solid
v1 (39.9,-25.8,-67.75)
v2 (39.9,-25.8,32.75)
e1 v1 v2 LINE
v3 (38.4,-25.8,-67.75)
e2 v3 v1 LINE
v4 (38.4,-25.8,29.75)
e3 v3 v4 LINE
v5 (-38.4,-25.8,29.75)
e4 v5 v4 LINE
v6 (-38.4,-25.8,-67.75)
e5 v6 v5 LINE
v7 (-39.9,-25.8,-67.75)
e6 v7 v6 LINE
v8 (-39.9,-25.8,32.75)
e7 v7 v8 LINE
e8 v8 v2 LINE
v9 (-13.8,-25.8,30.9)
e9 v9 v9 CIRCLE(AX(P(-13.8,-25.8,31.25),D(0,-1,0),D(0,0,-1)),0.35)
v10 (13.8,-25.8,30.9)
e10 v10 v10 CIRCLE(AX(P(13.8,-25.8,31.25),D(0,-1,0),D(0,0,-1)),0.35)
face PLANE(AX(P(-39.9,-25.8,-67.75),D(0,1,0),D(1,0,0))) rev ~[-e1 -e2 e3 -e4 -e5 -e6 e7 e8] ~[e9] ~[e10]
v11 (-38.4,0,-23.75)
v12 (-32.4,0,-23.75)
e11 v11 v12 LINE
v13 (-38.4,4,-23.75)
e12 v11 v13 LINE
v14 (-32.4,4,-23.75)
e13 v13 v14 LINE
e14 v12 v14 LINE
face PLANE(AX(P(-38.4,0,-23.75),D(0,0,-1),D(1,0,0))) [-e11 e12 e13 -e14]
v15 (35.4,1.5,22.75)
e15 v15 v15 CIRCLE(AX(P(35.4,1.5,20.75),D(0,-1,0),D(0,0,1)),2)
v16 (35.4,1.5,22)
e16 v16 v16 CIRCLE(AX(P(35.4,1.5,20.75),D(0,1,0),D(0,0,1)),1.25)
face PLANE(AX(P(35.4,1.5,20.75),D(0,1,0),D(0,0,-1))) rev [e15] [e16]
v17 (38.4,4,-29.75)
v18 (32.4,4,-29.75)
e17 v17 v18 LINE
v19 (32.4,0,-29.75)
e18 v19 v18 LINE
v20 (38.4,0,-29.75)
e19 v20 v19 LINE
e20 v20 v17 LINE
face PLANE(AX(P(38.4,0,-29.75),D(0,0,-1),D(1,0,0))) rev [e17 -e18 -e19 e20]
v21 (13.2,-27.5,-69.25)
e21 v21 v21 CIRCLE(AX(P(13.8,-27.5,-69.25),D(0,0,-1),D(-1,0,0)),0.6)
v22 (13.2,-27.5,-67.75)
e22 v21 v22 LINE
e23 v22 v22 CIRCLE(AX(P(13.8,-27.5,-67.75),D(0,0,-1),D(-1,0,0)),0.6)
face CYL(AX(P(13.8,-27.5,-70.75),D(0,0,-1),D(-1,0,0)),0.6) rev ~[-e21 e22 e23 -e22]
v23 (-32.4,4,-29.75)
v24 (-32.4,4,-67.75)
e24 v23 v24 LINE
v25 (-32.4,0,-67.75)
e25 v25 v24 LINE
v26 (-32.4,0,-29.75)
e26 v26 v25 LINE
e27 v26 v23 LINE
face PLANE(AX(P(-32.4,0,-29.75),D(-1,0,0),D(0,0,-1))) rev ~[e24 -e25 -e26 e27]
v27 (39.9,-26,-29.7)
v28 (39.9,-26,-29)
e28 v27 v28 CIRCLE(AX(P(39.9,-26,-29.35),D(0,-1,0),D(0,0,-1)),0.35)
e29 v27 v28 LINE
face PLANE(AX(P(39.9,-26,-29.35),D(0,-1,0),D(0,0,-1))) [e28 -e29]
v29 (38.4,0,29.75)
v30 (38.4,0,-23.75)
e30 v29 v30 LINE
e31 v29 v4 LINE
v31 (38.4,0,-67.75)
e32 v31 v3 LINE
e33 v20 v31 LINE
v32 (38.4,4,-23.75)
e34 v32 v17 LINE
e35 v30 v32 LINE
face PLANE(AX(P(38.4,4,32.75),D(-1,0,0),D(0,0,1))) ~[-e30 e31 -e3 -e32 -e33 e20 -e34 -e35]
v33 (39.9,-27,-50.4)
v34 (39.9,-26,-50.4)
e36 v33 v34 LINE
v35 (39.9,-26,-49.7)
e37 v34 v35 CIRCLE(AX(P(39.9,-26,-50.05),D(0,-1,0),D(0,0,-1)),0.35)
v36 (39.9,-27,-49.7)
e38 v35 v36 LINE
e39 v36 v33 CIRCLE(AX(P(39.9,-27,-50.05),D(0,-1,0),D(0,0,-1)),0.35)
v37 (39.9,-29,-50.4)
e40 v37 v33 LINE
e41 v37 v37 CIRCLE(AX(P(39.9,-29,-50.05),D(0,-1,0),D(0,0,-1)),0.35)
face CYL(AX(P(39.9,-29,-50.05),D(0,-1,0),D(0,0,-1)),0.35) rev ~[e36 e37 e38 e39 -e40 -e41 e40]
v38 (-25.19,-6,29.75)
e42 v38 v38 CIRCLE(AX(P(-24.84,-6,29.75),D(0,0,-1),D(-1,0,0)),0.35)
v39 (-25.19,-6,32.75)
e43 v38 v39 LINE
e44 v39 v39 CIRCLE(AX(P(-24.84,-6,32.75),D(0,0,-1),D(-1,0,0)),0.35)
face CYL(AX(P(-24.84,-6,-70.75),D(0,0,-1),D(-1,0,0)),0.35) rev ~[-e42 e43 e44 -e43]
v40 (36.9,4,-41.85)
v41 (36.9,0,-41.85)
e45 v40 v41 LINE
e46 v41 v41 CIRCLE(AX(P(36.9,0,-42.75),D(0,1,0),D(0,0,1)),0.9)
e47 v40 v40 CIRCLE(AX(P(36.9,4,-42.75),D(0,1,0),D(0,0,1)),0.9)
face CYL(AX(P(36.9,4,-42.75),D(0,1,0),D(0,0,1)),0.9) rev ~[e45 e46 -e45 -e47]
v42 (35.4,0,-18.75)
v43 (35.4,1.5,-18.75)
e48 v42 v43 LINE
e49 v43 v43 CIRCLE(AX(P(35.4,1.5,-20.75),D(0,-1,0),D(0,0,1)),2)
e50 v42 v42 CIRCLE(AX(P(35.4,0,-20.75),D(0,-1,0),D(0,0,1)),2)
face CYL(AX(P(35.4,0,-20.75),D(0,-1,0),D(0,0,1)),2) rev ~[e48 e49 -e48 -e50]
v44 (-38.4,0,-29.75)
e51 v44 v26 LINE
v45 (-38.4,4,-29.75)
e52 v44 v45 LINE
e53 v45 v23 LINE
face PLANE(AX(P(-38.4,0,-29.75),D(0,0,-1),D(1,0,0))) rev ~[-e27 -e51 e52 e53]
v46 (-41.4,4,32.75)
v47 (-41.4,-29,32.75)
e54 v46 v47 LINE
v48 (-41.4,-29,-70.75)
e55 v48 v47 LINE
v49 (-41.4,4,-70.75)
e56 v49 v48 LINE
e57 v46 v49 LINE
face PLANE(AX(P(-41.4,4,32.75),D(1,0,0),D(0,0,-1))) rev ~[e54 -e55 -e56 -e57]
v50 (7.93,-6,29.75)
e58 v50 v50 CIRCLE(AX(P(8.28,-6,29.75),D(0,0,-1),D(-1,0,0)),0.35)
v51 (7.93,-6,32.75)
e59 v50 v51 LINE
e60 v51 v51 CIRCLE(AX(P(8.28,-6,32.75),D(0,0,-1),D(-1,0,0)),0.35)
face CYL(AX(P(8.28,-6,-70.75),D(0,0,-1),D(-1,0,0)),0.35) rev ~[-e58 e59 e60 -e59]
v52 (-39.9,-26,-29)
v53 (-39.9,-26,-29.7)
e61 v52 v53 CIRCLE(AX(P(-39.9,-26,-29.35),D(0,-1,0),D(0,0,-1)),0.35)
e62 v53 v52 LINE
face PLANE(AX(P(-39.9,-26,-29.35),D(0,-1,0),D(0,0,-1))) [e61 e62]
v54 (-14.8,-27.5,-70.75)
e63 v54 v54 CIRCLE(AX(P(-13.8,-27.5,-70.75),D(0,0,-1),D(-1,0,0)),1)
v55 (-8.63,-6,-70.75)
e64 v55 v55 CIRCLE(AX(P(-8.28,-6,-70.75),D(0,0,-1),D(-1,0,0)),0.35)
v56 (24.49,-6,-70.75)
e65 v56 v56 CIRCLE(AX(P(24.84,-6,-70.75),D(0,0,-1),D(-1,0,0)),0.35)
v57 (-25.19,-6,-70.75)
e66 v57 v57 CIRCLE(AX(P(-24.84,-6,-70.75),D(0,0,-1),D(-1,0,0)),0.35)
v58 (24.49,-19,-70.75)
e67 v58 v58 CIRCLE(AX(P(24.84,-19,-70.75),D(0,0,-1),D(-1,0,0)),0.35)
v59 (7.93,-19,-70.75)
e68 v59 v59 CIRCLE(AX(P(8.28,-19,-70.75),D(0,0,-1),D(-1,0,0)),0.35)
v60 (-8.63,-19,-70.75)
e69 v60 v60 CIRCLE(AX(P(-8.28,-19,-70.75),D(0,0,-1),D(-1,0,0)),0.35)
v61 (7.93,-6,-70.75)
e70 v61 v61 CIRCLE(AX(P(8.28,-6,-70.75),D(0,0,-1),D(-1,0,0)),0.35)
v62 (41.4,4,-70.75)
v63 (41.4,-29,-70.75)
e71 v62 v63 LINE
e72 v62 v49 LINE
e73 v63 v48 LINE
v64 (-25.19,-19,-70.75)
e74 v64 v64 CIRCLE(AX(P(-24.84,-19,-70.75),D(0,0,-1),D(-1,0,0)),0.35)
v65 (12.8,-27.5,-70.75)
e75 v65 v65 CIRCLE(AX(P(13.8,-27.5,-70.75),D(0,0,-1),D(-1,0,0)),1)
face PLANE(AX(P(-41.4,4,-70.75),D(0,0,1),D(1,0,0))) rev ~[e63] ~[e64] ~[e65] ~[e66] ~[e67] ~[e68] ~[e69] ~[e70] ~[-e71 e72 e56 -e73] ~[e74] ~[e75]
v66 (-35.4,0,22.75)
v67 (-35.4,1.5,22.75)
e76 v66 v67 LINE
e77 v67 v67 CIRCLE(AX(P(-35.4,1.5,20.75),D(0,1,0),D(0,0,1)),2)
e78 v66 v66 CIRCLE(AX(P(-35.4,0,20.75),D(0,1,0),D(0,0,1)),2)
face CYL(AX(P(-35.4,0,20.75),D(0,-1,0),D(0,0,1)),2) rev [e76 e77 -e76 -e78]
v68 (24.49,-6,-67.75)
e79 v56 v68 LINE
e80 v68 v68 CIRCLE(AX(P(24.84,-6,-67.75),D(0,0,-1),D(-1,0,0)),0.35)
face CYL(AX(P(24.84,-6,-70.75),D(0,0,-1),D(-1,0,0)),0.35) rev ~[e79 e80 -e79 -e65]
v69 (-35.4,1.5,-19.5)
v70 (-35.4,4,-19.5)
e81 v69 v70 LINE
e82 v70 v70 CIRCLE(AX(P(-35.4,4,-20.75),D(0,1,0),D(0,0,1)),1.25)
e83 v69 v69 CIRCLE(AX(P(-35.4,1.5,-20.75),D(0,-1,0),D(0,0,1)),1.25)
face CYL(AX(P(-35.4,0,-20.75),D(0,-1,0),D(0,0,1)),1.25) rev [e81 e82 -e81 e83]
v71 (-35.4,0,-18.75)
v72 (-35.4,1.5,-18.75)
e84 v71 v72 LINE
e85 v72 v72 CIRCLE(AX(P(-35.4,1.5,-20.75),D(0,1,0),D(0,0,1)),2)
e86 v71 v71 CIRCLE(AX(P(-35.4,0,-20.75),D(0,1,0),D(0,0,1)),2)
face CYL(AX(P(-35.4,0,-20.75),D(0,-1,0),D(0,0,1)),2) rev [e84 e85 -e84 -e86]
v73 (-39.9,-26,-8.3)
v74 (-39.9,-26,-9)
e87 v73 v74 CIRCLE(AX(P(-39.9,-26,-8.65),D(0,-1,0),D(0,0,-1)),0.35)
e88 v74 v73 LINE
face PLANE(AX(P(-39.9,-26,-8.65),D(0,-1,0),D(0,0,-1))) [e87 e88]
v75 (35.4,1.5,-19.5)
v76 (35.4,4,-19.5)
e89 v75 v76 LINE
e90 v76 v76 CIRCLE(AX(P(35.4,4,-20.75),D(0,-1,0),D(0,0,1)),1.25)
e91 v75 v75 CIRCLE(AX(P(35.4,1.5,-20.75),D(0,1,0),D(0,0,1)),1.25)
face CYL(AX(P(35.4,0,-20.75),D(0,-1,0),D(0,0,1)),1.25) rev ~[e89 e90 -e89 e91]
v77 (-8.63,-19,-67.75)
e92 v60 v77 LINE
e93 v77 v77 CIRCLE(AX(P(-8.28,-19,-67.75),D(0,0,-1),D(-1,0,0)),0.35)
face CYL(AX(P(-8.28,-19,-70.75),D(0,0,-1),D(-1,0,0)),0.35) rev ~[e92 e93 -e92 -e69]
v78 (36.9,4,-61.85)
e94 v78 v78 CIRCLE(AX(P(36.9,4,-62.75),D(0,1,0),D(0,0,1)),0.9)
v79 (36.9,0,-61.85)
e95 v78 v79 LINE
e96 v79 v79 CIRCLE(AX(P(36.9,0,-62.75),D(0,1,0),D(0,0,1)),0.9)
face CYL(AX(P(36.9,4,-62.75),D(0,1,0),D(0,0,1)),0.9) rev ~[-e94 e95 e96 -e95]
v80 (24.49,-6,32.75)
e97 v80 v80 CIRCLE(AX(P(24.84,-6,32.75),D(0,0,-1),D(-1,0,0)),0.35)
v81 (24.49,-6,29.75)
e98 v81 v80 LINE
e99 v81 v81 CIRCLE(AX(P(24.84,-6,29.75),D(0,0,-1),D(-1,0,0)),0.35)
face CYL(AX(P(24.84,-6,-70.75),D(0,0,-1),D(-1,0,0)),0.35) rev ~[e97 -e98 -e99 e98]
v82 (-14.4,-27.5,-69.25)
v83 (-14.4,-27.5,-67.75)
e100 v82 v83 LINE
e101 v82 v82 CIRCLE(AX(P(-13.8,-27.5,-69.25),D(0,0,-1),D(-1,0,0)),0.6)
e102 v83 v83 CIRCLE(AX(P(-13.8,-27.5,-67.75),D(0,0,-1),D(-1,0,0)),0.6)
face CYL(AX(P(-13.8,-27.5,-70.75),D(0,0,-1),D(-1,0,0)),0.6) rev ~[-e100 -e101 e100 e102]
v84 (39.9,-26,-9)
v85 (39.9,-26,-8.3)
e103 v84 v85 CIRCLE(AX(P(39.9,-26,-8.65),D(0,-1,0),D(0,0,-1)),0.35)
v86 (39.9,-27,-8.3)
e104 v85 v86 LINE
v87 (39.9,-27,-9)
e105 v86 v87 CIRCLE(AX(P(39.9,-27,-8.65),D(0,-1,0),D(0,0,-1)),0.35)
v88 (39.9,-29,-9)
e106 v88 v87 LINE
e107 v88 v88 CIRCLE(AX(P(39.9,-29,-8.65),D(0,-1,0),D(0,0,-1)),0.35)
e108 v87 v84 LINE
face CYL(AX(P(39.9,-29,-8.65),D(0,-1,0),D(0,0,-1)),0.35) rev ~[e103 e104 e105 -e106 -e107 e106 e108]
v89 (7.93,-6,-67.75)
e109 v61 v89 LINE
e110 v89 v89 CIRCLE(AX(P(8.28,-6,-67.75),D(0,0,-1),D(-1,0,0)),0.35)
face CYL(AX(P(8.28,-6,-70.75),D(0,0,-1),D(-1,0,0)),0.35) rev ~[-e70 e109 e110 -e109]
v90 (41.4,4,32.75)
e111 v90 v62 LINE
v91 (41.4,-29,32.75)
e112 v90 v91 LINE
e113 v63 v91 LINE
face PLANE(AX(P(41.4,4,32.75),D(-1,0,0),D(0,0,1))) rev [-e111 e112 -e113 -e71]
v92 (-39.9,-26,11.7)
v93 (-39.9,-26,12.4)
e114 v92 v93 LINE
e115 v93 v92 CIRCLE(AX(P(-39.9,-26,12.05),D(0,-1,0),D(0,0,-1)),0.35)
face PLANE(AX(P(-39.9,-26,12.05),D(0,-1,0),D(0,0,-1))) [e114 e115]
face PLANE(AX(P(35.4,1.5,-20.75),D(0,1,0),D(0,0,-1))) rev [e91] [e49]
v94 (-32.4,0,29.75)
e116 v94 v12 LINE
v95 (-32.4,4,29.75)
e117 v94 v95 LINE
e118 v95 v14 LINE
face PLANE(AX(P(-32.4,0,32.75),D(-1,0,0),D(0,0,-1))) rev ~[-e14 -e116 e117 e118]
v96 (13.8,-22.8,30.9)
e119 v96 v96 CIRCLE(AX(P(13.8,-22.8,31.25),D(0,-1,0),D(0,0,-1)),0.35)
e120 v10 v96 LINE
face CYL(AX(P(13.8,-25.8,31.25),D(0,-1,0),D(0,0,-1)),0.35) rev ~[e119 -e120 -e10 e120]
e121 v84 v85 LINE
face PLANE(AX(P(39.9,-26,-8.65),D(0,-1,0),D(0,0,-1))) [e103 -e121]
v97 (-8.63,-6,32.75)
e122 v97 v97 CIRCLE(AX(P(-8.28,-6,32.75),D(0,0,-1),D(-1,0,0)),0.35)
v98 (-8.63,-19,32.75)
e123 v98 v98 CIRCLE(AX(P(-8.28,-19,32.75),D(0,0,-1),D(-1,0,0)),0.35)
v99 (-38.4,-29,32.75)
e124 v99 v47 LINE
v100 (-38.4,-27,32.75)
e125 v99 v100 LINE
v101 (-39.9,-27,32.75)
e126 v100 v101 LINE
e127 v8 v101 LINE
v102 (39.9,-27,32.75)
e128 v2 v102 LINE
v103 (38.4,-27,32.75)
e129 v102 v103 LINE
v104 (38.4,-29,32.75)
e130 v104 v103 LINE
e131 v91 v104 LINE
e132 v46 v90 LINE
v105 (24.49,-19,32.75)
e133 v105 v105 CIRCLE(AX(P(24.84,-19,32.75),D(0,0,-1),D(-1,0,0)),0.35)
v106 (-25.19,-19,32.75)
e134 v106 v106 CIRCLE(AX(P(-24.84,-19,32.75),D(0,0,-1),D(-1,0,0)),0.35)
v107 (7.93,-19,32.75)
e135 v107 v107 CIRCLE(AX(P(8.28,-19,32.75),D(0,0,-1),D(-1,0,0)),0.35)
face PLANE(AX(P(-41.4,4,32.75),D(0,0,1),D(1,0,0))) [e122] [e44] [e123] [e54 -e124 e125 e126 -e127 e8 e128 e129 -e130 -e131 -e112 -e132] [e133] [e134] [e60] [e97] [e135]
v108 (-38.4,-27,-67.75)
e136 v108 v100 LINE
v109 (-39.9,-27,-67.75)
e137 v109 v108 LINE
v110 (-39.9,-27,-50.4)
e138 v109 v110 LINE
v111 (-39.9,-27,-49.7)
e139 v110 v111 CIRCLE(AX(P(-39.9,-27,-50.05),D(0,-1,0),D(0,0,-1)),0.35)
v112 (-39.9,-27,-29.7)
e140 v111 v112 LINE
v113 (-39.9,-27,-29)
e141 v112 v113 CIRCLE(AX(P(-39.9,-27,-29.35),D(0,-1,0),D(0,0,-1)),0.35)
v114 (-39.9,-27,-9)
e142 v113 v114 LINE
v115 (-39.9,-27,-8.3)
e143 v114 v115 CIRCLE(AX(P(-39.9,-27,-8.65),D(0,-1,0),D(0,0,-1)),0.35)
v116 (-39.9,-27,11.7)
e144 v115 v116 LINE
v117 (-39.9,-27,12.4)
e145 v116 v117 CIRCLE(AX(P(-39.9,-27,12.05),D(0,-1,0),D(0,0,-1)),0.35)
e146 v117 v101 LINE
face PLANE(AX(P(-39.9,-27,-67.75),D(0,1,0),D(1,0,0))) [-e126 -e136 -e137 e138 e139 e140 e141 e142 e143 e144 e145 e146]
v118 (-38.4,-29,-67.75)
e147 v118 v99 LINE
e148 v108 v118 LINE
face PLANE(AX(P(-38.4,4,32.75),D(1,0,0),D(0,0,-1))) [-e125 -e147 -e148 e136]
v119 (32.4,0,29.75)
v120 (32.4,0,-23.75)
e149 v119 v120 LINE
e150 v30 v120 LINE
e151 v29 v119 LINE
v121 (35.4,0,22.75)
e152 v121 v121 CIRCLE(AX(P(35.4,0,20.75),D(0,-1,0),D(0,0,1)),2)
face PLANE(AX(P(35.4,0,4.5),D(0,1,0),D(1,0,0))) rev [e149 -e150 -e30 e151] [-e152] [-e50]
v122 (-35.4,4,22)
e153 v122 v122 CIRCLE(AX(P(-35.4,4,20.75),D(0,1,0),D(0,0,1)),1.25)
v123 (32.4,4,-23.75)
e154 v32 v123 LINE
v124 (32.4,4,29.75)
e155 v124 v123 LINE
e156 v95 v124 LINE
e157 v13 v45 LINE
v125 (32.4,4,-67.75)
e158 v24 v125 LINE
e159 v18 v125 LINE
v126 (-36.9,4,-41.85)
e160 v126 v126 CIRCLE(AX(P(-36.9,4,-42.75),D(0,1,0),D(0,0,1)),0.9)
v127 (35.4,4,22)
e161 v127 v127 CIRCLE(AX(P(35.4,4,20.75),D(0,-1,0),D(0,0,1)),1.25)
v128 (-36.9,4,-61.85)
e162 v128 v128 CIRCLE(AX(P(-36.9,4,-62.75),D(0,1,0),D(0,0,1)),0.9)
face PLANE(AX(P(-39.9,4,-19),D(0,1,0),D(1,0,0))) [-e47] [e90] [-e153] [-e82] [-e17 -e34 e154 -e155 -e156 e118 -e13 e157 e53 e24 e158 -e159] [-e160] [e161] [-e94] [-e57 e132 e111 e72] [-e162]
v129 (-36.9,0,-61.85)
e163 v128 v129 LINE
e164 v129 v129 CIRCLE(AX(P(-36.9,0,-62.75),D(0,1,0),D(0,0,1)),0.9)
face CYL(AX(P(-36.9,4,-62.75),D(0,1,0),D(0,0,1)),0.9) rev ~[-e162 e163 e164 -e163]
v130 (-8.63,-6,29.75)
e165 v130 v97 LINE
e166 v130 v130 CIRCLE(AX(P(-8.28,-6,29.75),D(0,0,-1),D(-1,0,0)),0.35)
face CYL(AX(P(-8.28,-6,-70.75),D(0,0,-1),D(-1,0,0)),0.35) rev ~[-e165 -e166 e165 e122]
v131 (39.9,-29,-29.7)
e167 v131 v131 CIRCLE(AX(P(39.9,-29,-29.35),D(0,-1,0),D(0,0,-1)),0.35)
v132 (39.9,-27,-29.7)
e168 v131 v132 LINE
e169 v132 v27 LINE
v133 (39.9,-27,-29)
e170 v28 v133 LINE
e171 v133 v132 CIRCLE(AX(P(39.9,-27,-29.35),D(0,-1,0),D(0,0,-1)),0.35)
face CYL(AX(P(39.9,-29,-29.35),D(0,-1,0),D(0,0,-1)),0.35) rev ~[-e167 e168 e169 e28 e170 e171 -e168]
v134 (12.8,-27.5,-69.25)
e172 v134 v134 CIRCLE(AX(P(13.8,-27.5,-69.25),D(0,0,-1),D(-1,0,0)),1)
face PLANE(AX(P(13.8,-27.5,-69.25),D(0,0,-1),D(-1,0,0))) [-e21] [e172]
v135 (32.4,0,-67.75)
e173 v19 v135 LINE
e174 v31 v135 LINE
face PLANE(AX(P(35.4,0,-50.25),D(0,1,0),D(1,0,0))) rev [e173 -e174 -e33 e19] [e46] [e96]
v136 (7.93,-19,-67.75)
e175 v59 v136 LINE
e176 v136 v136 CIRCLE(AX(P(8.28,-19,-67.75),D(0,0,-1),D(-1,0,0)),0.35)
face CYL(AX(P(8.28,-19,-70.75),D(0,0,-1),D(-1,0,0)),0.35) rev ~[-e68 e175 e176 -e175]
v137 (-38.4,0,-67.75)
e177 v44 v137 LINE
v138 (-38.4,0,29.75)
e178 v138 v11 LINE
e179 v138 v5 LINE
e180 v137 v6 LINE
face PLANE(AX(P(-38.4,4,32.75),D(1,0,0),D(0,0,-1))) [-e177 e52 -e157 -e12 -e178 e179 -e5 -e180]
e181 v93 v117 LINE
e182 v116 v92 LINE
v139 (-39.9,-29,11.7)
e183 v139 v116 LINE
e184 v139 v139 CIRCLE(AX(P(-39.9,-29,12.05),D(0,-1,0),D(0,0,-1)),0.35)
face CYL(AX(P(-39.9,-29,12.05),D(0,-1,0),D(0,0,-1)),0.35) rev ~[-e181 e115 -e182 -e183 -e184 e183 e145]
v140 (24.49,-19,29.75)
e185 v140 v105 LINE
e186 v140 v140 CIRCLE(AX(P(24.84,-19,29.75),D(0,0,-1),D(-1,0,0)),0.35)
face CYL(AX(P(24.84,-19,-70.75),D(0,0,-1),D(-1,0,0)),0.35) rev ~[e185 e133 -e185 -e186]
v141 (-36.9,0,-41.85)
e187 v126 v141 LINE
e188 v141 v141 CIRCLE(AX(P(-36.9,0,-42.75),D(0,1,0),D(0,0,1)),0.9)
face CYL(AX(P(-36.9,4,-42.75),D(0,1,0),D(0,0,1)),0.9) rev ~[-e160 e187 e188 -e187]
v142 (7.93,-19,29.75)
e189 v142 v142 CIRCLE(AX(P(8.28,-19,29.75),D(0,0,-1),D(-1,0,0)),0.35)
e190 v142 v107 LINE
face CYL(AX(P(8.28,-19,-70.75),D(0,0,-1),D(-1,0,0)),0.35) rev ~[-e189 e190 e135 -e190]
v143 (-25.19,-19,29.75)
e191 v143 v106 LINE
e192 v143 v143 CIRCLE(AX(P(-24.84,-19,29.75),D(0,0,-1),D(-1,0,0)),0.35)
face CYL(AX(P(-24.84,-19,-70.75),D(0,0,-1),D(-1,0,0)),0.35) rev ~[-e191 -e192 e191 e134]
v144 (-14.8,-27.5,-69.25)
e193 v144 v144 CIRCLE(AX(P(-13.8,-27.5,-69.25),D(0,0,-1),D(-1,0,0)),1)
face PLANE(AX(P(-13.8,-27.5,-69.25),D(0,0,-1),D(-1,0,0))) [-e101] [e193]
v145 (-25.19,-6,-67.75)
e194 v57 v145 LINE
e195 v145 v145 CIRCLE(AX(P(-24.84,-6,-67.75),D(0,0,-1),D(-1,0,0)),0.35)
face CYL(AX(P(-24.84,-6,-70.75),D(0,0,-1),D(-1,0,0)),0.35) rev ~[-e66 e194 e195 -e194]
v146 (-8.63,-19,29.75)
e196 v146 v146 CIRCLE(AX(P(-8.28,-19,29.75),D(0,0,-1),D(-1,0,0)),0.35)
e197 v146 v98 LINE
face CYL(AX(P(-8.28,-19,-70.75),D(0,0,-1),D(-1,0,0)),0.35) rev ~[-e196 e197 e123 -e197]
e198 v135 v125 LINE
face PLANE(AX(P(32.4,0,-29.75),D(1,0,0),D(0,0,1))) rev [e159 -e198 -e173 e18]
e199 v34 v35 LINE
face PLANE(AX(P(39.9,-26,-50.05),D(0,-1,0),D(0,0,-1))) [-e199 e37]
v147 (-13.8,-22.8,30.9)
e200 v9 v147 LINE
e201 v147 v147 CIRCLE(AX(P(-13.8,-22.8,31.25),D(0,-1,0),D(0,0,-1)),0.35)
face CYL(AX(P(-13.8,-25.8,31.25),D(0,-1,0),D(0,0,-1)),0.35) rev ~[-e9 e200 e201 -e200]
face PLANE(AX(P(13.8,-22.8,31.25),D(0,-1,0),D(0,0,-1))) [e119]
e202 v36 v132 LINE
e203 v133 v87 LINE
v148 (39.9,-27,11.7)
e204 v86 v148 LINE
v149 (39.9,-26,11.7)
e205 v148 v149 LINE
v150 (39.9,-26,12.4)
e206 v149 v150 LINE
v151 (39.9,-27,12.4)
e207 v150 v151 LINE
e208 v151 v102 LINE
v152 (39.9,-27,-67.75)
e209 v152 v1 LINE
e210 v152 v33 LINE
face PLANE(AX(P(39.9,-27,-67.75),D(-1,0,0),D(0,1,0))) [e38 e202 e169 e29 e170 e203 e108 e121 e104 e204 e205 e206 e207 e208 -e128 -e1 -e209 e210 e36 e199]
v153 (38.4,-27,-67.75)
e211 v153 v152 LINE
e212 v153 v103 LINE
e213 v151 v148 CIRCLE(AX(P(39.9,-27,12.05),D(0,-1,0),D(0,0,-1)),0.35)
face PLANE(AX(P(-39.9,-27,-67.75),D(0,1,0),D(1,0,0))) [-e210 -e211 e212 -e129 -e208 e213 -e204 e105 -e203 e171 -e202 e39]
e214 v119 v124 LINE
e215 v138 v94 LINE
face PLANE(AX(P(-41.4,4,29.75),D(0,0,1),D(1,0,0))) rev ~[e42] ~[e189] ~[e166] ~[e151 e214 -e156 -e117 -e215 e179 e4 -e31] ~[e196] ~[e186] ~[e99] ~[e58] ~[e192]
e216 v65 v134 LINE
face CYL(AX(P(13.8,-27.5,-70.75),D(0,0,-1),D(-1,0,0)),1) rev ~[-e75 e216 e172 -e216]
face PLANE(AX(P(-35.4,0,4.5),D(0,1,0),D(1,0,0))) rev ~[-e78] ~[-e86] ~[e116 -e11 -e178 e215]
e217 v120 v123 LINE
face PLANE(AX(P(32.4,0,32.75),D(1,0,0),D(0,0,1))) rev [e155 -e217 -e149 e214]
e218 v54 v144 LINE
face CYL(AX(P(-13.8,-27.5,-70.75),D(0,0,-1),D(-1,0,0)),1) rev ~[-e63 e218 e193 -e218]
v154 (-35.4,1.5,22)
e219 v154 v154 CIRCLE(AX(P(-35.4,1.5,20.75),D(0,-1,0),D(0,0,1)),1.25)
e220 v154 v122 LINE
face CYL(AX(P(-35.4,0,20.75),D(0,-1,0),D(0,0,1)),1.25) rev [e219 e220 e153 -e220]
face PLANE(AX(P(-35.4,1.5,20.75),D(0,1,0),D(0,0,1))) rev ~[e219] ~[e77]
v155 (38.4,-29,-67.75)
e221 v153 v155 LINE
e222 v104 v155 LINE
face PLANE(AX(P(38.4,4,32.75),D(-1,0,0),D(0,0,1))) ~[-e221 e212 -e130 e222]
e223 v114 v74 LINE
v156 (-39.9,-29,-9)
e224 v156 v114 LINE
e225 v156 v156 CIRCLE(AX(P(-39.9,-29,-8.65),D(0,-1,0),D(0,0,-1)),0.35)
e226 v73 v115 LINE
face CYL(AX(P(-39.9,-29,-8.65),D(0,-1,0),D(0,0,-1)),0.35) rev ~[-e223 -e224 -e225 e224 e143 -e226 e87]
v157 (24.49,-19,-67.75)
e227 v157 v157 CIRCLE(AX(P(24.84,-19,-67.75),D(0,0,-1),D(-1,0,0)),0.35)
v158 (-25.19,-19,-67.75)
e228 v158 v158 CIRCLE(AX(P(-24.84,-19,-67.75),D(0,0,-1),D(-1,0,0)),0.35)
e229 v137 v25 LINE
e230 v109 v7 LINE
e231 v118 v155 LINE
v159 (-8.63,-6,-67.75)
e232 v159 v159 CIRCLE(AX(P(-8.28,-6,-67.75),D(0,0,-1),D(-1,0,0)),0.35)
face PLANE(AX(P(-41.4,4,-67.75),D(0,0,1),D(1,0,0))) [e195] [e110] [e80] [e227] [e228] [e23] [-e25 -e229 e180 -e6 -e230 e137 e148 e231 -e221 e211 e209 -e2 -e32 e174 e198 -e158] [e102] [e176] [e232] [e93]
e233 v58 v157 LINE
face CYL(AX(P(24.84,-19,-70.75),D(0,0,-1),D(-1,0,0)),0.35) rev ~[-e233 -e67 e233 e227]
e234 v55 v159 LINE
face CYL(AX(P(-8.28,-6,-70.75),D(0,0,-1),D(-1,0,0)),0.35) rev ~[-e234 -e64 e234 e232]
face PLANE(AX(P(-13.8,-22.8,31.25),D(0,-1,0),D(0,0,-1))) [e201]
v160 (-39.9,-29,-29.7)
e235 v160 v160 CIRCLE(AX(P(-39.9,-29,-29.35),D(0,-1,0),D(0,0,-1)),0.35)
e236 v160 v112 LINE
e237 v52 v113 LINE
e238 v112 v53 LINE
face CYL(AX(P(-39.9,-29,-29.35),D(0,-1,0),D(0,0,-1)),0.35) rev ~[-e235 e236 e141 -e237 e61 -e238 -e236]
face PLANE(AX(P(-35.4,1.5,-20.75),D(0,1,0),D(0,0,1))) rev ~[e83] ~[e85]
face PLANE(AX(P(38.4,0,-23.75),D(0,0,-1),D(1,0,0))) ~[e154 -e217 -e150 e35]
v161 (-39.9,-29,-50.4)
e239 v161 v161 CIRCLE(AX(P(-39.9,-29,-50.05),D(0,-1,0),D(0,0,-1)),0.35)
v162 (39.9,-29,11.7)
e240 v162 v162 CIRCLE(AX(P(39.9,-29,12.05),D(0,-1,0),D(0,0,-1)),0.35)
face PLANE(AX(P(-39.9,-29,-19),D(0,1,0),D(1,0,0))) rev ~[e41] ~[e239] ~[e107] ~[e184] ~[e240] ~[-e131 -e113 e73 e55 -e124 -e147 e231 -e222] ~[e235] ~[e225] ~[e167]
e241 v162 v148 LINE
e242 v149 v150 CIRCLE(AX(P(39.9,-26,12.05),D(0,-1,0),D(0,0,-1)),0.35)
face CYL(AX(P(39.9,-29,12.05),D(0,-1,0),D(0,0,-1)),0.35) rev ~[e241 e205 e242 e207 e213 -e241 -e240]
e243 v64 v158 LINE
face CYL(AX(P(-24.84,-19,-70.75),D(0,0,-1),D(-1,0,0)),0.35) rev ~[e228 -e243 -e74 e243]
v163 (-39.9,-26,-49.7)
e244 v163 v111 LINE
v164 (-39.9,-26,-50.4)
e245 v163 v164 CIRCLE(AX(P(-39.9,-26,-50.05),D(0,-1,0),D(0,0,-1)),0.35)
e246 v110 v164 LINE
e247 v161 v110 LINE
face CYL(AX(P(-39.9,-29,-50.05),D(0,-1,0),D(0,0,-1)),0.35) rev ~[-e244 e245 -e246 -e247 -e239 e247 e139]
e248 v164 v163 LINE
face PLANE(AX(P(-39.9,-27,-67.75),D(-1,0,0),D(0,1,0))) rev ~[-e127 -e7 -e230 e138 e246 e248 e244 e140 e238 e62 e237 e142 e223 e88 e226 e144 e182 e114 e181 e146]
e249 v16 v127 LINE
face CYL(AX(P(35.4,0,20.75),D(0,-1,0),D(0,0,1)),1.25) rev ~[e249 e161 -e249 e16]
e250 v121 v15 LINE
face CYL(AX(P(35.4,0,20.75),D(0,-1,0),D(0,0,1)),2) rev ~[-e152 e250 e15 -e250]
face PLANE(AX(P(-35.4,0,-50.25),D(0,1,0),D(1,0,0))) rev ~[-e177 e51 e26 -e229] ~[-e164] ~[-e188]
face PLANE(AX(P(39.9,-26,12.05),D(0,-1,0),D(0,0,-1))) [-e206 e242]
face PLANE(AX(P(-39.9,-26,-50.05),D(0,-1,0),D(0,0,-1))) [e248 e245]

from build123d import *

# Parameters (mm, degrees)
SKETCH_1_W           = 6
SKETCH_1_H           = 56.5
SKETCH_1_R           = 1.25
EXTRUDE_1_DEPTH      = 4
SKETCH_1_H_2         = 41
EXTRUDE_1_2_DEPTH    = 4
SKETCH_3_W           = 3
SKETCH_3_H           = 103.5
EXTRUDE_2_DEPTH      = 33
SKETCH_1_5_R         = 2
CUT_EXTRUDE_1_DEPTH  = 1.5
EXTRUDE_3_REACH      = 90.366
SKETCH_4_W           = 82.8
SKETCH_4_H           = 3
SKETCH_5_W           = 76.8
SKETCH_5_H           = 3
CUT_EXTRUDE_2_DEPTH  = 3.2
SKETCH_7_W           = 79.8
SKETCH_7_H           = 1.2
CUT_EXTRUDE_4_DEPTH  = 113.495377683
SKETCH_8_R           = 0.9
CUT_EXTRUDE_5_DEPTH  = 89.365844646
SKETCH_9_R           = 0.6
CUT_EXTRUDE_6_DEPTH  = 116.183375537
SKETCH_9_3_R         = 1
CUT_EXTRUDE_7_DEPTH  = 1.5
SKETCH_10_R          = 0.35
CUT_EXTRUDE_8_DEPTH  = 3
SKETCH_11_R          = 0.35
CUT_EXTRUDE_9_DEPTH  = 3
SKETCH_12_R          = 0.35
CUT_EXTRUDE_10_DEPTH = 116.183375537


with BuildPart() as part:
    # 草图1 → 凸台-拉伸1 (new body)
    with BuildSketch(Plane(origin=(0, 0, 0), x_dir=(1, 0, 0), z_dir=(0, 1, 0))):
        with Locations((-35.4, -4.5)):
            Rectangle(SKETCH_1_W, SKETCH_1_H)
        with Locations(Location((-35.4, 20.75, 0), (0, 0, 270))):
            Circle(SKETCH_1_R, mode=Mode.SUBTRACT)
        with Locations(Location((-35.4, -20.75, 0), (0, 0, 270))):
            Circle(SKETCH_1_R, mode=Mode.SUBTRACT)
    extrude(amount=EXTRUDE_1_DEPTH)



with BuildPart() as body_2:
    # 草图1 → Extrude 1 2 (new body)
    with BuildSketch(Plane(origin=(0, 0, 0), x_dir=(1, 0, 0), z_dir=(0, 1, 0))):
        with Locations((-35.4, 50.25)):
            Rectangle(SKETCH_1_W, SKETCH_1_H_2)
    extrude(amount=EXTRUDE_1_2_DEPTH)


with BuildPart() as part_1:
    add(part.part)

    add(body_2.part)  # 凸台-拉伸2 merges body 2
    # 草图3 → 凸台-拉伸2 (add)
    with BuildSketch(Plane(origin=(0, 4, 0), x_dir=(1, 0, 0), z_dir=(0, 1, 0))):
        with Locations((-39.9, 19)):
            Rectangle(SKETCH_3_W, SKETCH_3_H)
    extrude(amount=-EXTRUDE_2_DEPTH)

    # 草图1<5> → 切除-拉伸1 (cut)
    with BuildSketch(Plane(origin=(0, 0, 0), x_dir=(1, 0, 0), z_dir=(0, 1, 0))):
        with Locations(Location((-35.4, 20.75, 0), (0, 0, 270))):
            Circle(SKETCH_1_5_R)
        with Locations(Location((-35.4, -20.75, 0), (0, 0, 270))):
            Circle(SKETCH_1_5_R)
    extrude(amount=CUT_EXTRUDE_1_DEPTH, mode=Mode.SUBTRACT)


with BuildPart() as body_2_2:
    # 镜向3: mirrored copy
    add(part_1.part.mirror(Plane(origin=(0, 0, 0), x_dir=(0, 0, 1), z_dir=(1, 0, 0))))

    # 凸台-拉伸3: up to this face of the body (flat: up to its plane)
    extrude_3_end = Plane(body_2_2.part.faces().sort_by_distance((39.9, -29, -19))[0])
    # 草图4 → 凸台-拉伸3 (add, up to the picked face)
    with BuildSketch(Plane.XZ.offset(-4), mode=Mode.PRIVATE) as extrude_3_sk1:
        with Locations((0, 31.25)):
            Rectangle(SKETCH_4_W, SKETCH_4_H)
    extrude_3_tool1 = split(extrude(extrude_3_sk1.sketch, amount=EXTRUDE_3_REACH, mode=Mode.PRIVATE), bisect_by=extrude_3_end, keep=Keep.BOTH, mode=Mode.PRIVATE)
    # 草图4 → 凸台-拉伸3 (add, up to the picked face)
    with BuildSketch(Plane.XZ.offset(-4), mode=Mode.PRIVATE) as extrude_3_sk2:
        with Locations((0, -69.25)):
            Rectangle(SKETCH_4_W, SKETCH_4_H)
    extrude_3_tool2 = split(extrude(extrude_3_sk2.sketch, amount=EXTRUDE_3_REACH, mode=Mode.PRIVATE), bisect_by=extrude_3_end, keep=Keep.BOTH, mode=Mode.PRIVATE)

    add(part_1.part)  # 凸台-拉伸3 merges part
    add(extrude_3_tool1.solids().sort_by(Axis((0, 4, 31.25), (0, -1, 0)))[0])
    add(extrude_3_tool2.solids().sort_by(Axis((0, 4, -69.25), (0, -1, 0)))[0])

    # 草图5 → 切除-拉伸2 (cut)
    with BuildSketch(Plane.XZ.offset(29)):
        with Locations((0, 31.25)):
            Rectangle(SKETCH_5_W, SKETCH_5_H)
    extrude(amount=-CUT_EXTRUDE_2_DEPTH, mode=Mode.SUBTRACT)

    # 草图7 → 切除-拉伸4 (cut, through all)
    with BuildSketch(Plane.XY.offset(-67.75)):
        with Locations((0, -26.4)):
            Rectangle(SKETCH_7_W, SKETCH_7_H)
    extrude(amount=CUT_EXTRUDE_4_DEPTH, mode=Mode.SUBTRACT)

    # 草图8 → 切除-拉伸5 (cut, through all)
    with BuildSketch(Plane(origin=(0, 4, 0), x_dir=(1, 0, 0), z_dir=(0, 1, 0))):
        with Locations(Location((36.9, 62.75, 0), (0, 0, 270))):
            Circle(SKETCH_8_R)
        with Locations(Location((-36.9, 62.75, 0), (0, 0, 270))):
            Circle(SKETCH_8_R)
        with Locations(Location((-36.9, 42.75, 0), (0, 0, 270))):
            Circle(SKETCH_8_R)
        with Locations(Location((36.9, 42.75, 0), (0, 0, 270))):
            Circle(SKETCH_8_R)
    extrude(amount=-CUT_EXTRUDE_5_DEPTH, mode=Mode.SUBTRACT)

    # 草图9 → 切除-拉伸6 (cut, through all)
    with BuildSketch(Plane(origin=(0, 0, -70.75), x_dir=(-1, 0, 0), z_dir=(0, 0, -1))):
        with Locations((13.8, -27.5)):
            Circle(SKETCH_9_R)
        with Locations((-13.8, -27.5)):
            Circle(SKETCH_9_R)
    extrude(amount=-CUT_EXTRUDE_6_DEPTH, mode=Mode.SUBTRACT)

    # 草图9<3> → 切除-拉伸7 (cut)
    with BuildSketch(Plane(origin=(0, 0, -70.75), x_dir=(-1, 0, 0), z_dir=(0, 0, -1))):
        with Locations((-13.8, -27.5)):
            Circle(SKETCH_9_3_R)
        with Locations((13.8, -27.5)):
            Circle(SKETCH_9_3_R)
    extrude(amount=-CUT_EXTRUDE_7_DEPTH, mode=Mode.SUBTRACT)

    # 草图10 → 切除-拉伸8 (cut)
    with BuildSketch(Plane.XZ.offset(25.8)):
        with Locations(Location((-13.8, 31.25, 0), (0, 0, 270))):
            Circle(SKETCH_10_R)
        with Locations(Location((13.8, 31.25, 0), (0, 0, 270))):
            Circle(SKETCH_10_R)
    extrude(amount=-CUT_EXTRUDE_8_DEPTH, mode=Mode.SUBTRACT)

    # 草图11 → 切除-拉伸9 (cut)
    with BuildSketch(Plane.XZ.offset(29)):
        with Locations(Location((39.9, 12.05, 0), (0, 0, 270))):
            Circle(SKETCH_11_R)
        with Locations(Location((39.9, -8.65, 0), (0, 0, 270))):
            Circle(SKETCH_11_R)
        with Locations(Location((39.9, -29.35, 0), (0, 0, 270))):
            Circle(SKETCH_11_R)
        with Locations(Location((39.9, -50.05, 0), (0, 0, 270))):
            Circle(SKETCH_11_R)
        with Locations(Location((-39.9, 12.05, 0), (0, 0, 270))):
            Circle(SKETCH_11_R)
        with Locations(Location((-39.9, -8.65, 0), (0, 0, 270))):
            Circle(SKETCH_11_R)
        with Locations(Location((-39.9, -29.35, 0), (0, 0, 270))):
            Circle(SKETCH_11_R)
        with Locations(Location((-39.9, -50.05, 0), (0, 0, 270))):
            Circle(SKETCH_11_R)
    extrude(amount=-CUT_EXTRUDE_9_DEPTH, mode=Mode.SUBTRACT)

    # 草图12 → 切除-拉伸10 (cut, through all)
    with BuildSketch(Plane(origin=(0, 0, -70.75), x_dir=(-1, 0, 0), z_dir=(0, 0, -1))):
        with Locations((-24.84, -6)):
            Circle(SKETCH_12_R)
        with Locations((-8.28, -6)):
            Circle(SKETCH_12_R)
        with Locations((8.28, -6)):
            Circle(SKETCH_12_R)
        with Locations((24.84, -6)):
            Circle(SKETCH_12_R)
        with Locations((-24.84, -19)):
            Circle(SKETCH_12_R)
        with Locations((-8.28, -19)):
            Circle(SKETCH_12_R)
        with Locations((8.28, -19)):
            Circle(SKETCH_12_R)
        with Locations((24.84, -19)):
            Circle(SKETCH_12_R)
    extrude(amount=-CUT_EXTRUDE_10_DEPTH, mode=Mode.SUBTRACT)


solid = body_2_2.part
